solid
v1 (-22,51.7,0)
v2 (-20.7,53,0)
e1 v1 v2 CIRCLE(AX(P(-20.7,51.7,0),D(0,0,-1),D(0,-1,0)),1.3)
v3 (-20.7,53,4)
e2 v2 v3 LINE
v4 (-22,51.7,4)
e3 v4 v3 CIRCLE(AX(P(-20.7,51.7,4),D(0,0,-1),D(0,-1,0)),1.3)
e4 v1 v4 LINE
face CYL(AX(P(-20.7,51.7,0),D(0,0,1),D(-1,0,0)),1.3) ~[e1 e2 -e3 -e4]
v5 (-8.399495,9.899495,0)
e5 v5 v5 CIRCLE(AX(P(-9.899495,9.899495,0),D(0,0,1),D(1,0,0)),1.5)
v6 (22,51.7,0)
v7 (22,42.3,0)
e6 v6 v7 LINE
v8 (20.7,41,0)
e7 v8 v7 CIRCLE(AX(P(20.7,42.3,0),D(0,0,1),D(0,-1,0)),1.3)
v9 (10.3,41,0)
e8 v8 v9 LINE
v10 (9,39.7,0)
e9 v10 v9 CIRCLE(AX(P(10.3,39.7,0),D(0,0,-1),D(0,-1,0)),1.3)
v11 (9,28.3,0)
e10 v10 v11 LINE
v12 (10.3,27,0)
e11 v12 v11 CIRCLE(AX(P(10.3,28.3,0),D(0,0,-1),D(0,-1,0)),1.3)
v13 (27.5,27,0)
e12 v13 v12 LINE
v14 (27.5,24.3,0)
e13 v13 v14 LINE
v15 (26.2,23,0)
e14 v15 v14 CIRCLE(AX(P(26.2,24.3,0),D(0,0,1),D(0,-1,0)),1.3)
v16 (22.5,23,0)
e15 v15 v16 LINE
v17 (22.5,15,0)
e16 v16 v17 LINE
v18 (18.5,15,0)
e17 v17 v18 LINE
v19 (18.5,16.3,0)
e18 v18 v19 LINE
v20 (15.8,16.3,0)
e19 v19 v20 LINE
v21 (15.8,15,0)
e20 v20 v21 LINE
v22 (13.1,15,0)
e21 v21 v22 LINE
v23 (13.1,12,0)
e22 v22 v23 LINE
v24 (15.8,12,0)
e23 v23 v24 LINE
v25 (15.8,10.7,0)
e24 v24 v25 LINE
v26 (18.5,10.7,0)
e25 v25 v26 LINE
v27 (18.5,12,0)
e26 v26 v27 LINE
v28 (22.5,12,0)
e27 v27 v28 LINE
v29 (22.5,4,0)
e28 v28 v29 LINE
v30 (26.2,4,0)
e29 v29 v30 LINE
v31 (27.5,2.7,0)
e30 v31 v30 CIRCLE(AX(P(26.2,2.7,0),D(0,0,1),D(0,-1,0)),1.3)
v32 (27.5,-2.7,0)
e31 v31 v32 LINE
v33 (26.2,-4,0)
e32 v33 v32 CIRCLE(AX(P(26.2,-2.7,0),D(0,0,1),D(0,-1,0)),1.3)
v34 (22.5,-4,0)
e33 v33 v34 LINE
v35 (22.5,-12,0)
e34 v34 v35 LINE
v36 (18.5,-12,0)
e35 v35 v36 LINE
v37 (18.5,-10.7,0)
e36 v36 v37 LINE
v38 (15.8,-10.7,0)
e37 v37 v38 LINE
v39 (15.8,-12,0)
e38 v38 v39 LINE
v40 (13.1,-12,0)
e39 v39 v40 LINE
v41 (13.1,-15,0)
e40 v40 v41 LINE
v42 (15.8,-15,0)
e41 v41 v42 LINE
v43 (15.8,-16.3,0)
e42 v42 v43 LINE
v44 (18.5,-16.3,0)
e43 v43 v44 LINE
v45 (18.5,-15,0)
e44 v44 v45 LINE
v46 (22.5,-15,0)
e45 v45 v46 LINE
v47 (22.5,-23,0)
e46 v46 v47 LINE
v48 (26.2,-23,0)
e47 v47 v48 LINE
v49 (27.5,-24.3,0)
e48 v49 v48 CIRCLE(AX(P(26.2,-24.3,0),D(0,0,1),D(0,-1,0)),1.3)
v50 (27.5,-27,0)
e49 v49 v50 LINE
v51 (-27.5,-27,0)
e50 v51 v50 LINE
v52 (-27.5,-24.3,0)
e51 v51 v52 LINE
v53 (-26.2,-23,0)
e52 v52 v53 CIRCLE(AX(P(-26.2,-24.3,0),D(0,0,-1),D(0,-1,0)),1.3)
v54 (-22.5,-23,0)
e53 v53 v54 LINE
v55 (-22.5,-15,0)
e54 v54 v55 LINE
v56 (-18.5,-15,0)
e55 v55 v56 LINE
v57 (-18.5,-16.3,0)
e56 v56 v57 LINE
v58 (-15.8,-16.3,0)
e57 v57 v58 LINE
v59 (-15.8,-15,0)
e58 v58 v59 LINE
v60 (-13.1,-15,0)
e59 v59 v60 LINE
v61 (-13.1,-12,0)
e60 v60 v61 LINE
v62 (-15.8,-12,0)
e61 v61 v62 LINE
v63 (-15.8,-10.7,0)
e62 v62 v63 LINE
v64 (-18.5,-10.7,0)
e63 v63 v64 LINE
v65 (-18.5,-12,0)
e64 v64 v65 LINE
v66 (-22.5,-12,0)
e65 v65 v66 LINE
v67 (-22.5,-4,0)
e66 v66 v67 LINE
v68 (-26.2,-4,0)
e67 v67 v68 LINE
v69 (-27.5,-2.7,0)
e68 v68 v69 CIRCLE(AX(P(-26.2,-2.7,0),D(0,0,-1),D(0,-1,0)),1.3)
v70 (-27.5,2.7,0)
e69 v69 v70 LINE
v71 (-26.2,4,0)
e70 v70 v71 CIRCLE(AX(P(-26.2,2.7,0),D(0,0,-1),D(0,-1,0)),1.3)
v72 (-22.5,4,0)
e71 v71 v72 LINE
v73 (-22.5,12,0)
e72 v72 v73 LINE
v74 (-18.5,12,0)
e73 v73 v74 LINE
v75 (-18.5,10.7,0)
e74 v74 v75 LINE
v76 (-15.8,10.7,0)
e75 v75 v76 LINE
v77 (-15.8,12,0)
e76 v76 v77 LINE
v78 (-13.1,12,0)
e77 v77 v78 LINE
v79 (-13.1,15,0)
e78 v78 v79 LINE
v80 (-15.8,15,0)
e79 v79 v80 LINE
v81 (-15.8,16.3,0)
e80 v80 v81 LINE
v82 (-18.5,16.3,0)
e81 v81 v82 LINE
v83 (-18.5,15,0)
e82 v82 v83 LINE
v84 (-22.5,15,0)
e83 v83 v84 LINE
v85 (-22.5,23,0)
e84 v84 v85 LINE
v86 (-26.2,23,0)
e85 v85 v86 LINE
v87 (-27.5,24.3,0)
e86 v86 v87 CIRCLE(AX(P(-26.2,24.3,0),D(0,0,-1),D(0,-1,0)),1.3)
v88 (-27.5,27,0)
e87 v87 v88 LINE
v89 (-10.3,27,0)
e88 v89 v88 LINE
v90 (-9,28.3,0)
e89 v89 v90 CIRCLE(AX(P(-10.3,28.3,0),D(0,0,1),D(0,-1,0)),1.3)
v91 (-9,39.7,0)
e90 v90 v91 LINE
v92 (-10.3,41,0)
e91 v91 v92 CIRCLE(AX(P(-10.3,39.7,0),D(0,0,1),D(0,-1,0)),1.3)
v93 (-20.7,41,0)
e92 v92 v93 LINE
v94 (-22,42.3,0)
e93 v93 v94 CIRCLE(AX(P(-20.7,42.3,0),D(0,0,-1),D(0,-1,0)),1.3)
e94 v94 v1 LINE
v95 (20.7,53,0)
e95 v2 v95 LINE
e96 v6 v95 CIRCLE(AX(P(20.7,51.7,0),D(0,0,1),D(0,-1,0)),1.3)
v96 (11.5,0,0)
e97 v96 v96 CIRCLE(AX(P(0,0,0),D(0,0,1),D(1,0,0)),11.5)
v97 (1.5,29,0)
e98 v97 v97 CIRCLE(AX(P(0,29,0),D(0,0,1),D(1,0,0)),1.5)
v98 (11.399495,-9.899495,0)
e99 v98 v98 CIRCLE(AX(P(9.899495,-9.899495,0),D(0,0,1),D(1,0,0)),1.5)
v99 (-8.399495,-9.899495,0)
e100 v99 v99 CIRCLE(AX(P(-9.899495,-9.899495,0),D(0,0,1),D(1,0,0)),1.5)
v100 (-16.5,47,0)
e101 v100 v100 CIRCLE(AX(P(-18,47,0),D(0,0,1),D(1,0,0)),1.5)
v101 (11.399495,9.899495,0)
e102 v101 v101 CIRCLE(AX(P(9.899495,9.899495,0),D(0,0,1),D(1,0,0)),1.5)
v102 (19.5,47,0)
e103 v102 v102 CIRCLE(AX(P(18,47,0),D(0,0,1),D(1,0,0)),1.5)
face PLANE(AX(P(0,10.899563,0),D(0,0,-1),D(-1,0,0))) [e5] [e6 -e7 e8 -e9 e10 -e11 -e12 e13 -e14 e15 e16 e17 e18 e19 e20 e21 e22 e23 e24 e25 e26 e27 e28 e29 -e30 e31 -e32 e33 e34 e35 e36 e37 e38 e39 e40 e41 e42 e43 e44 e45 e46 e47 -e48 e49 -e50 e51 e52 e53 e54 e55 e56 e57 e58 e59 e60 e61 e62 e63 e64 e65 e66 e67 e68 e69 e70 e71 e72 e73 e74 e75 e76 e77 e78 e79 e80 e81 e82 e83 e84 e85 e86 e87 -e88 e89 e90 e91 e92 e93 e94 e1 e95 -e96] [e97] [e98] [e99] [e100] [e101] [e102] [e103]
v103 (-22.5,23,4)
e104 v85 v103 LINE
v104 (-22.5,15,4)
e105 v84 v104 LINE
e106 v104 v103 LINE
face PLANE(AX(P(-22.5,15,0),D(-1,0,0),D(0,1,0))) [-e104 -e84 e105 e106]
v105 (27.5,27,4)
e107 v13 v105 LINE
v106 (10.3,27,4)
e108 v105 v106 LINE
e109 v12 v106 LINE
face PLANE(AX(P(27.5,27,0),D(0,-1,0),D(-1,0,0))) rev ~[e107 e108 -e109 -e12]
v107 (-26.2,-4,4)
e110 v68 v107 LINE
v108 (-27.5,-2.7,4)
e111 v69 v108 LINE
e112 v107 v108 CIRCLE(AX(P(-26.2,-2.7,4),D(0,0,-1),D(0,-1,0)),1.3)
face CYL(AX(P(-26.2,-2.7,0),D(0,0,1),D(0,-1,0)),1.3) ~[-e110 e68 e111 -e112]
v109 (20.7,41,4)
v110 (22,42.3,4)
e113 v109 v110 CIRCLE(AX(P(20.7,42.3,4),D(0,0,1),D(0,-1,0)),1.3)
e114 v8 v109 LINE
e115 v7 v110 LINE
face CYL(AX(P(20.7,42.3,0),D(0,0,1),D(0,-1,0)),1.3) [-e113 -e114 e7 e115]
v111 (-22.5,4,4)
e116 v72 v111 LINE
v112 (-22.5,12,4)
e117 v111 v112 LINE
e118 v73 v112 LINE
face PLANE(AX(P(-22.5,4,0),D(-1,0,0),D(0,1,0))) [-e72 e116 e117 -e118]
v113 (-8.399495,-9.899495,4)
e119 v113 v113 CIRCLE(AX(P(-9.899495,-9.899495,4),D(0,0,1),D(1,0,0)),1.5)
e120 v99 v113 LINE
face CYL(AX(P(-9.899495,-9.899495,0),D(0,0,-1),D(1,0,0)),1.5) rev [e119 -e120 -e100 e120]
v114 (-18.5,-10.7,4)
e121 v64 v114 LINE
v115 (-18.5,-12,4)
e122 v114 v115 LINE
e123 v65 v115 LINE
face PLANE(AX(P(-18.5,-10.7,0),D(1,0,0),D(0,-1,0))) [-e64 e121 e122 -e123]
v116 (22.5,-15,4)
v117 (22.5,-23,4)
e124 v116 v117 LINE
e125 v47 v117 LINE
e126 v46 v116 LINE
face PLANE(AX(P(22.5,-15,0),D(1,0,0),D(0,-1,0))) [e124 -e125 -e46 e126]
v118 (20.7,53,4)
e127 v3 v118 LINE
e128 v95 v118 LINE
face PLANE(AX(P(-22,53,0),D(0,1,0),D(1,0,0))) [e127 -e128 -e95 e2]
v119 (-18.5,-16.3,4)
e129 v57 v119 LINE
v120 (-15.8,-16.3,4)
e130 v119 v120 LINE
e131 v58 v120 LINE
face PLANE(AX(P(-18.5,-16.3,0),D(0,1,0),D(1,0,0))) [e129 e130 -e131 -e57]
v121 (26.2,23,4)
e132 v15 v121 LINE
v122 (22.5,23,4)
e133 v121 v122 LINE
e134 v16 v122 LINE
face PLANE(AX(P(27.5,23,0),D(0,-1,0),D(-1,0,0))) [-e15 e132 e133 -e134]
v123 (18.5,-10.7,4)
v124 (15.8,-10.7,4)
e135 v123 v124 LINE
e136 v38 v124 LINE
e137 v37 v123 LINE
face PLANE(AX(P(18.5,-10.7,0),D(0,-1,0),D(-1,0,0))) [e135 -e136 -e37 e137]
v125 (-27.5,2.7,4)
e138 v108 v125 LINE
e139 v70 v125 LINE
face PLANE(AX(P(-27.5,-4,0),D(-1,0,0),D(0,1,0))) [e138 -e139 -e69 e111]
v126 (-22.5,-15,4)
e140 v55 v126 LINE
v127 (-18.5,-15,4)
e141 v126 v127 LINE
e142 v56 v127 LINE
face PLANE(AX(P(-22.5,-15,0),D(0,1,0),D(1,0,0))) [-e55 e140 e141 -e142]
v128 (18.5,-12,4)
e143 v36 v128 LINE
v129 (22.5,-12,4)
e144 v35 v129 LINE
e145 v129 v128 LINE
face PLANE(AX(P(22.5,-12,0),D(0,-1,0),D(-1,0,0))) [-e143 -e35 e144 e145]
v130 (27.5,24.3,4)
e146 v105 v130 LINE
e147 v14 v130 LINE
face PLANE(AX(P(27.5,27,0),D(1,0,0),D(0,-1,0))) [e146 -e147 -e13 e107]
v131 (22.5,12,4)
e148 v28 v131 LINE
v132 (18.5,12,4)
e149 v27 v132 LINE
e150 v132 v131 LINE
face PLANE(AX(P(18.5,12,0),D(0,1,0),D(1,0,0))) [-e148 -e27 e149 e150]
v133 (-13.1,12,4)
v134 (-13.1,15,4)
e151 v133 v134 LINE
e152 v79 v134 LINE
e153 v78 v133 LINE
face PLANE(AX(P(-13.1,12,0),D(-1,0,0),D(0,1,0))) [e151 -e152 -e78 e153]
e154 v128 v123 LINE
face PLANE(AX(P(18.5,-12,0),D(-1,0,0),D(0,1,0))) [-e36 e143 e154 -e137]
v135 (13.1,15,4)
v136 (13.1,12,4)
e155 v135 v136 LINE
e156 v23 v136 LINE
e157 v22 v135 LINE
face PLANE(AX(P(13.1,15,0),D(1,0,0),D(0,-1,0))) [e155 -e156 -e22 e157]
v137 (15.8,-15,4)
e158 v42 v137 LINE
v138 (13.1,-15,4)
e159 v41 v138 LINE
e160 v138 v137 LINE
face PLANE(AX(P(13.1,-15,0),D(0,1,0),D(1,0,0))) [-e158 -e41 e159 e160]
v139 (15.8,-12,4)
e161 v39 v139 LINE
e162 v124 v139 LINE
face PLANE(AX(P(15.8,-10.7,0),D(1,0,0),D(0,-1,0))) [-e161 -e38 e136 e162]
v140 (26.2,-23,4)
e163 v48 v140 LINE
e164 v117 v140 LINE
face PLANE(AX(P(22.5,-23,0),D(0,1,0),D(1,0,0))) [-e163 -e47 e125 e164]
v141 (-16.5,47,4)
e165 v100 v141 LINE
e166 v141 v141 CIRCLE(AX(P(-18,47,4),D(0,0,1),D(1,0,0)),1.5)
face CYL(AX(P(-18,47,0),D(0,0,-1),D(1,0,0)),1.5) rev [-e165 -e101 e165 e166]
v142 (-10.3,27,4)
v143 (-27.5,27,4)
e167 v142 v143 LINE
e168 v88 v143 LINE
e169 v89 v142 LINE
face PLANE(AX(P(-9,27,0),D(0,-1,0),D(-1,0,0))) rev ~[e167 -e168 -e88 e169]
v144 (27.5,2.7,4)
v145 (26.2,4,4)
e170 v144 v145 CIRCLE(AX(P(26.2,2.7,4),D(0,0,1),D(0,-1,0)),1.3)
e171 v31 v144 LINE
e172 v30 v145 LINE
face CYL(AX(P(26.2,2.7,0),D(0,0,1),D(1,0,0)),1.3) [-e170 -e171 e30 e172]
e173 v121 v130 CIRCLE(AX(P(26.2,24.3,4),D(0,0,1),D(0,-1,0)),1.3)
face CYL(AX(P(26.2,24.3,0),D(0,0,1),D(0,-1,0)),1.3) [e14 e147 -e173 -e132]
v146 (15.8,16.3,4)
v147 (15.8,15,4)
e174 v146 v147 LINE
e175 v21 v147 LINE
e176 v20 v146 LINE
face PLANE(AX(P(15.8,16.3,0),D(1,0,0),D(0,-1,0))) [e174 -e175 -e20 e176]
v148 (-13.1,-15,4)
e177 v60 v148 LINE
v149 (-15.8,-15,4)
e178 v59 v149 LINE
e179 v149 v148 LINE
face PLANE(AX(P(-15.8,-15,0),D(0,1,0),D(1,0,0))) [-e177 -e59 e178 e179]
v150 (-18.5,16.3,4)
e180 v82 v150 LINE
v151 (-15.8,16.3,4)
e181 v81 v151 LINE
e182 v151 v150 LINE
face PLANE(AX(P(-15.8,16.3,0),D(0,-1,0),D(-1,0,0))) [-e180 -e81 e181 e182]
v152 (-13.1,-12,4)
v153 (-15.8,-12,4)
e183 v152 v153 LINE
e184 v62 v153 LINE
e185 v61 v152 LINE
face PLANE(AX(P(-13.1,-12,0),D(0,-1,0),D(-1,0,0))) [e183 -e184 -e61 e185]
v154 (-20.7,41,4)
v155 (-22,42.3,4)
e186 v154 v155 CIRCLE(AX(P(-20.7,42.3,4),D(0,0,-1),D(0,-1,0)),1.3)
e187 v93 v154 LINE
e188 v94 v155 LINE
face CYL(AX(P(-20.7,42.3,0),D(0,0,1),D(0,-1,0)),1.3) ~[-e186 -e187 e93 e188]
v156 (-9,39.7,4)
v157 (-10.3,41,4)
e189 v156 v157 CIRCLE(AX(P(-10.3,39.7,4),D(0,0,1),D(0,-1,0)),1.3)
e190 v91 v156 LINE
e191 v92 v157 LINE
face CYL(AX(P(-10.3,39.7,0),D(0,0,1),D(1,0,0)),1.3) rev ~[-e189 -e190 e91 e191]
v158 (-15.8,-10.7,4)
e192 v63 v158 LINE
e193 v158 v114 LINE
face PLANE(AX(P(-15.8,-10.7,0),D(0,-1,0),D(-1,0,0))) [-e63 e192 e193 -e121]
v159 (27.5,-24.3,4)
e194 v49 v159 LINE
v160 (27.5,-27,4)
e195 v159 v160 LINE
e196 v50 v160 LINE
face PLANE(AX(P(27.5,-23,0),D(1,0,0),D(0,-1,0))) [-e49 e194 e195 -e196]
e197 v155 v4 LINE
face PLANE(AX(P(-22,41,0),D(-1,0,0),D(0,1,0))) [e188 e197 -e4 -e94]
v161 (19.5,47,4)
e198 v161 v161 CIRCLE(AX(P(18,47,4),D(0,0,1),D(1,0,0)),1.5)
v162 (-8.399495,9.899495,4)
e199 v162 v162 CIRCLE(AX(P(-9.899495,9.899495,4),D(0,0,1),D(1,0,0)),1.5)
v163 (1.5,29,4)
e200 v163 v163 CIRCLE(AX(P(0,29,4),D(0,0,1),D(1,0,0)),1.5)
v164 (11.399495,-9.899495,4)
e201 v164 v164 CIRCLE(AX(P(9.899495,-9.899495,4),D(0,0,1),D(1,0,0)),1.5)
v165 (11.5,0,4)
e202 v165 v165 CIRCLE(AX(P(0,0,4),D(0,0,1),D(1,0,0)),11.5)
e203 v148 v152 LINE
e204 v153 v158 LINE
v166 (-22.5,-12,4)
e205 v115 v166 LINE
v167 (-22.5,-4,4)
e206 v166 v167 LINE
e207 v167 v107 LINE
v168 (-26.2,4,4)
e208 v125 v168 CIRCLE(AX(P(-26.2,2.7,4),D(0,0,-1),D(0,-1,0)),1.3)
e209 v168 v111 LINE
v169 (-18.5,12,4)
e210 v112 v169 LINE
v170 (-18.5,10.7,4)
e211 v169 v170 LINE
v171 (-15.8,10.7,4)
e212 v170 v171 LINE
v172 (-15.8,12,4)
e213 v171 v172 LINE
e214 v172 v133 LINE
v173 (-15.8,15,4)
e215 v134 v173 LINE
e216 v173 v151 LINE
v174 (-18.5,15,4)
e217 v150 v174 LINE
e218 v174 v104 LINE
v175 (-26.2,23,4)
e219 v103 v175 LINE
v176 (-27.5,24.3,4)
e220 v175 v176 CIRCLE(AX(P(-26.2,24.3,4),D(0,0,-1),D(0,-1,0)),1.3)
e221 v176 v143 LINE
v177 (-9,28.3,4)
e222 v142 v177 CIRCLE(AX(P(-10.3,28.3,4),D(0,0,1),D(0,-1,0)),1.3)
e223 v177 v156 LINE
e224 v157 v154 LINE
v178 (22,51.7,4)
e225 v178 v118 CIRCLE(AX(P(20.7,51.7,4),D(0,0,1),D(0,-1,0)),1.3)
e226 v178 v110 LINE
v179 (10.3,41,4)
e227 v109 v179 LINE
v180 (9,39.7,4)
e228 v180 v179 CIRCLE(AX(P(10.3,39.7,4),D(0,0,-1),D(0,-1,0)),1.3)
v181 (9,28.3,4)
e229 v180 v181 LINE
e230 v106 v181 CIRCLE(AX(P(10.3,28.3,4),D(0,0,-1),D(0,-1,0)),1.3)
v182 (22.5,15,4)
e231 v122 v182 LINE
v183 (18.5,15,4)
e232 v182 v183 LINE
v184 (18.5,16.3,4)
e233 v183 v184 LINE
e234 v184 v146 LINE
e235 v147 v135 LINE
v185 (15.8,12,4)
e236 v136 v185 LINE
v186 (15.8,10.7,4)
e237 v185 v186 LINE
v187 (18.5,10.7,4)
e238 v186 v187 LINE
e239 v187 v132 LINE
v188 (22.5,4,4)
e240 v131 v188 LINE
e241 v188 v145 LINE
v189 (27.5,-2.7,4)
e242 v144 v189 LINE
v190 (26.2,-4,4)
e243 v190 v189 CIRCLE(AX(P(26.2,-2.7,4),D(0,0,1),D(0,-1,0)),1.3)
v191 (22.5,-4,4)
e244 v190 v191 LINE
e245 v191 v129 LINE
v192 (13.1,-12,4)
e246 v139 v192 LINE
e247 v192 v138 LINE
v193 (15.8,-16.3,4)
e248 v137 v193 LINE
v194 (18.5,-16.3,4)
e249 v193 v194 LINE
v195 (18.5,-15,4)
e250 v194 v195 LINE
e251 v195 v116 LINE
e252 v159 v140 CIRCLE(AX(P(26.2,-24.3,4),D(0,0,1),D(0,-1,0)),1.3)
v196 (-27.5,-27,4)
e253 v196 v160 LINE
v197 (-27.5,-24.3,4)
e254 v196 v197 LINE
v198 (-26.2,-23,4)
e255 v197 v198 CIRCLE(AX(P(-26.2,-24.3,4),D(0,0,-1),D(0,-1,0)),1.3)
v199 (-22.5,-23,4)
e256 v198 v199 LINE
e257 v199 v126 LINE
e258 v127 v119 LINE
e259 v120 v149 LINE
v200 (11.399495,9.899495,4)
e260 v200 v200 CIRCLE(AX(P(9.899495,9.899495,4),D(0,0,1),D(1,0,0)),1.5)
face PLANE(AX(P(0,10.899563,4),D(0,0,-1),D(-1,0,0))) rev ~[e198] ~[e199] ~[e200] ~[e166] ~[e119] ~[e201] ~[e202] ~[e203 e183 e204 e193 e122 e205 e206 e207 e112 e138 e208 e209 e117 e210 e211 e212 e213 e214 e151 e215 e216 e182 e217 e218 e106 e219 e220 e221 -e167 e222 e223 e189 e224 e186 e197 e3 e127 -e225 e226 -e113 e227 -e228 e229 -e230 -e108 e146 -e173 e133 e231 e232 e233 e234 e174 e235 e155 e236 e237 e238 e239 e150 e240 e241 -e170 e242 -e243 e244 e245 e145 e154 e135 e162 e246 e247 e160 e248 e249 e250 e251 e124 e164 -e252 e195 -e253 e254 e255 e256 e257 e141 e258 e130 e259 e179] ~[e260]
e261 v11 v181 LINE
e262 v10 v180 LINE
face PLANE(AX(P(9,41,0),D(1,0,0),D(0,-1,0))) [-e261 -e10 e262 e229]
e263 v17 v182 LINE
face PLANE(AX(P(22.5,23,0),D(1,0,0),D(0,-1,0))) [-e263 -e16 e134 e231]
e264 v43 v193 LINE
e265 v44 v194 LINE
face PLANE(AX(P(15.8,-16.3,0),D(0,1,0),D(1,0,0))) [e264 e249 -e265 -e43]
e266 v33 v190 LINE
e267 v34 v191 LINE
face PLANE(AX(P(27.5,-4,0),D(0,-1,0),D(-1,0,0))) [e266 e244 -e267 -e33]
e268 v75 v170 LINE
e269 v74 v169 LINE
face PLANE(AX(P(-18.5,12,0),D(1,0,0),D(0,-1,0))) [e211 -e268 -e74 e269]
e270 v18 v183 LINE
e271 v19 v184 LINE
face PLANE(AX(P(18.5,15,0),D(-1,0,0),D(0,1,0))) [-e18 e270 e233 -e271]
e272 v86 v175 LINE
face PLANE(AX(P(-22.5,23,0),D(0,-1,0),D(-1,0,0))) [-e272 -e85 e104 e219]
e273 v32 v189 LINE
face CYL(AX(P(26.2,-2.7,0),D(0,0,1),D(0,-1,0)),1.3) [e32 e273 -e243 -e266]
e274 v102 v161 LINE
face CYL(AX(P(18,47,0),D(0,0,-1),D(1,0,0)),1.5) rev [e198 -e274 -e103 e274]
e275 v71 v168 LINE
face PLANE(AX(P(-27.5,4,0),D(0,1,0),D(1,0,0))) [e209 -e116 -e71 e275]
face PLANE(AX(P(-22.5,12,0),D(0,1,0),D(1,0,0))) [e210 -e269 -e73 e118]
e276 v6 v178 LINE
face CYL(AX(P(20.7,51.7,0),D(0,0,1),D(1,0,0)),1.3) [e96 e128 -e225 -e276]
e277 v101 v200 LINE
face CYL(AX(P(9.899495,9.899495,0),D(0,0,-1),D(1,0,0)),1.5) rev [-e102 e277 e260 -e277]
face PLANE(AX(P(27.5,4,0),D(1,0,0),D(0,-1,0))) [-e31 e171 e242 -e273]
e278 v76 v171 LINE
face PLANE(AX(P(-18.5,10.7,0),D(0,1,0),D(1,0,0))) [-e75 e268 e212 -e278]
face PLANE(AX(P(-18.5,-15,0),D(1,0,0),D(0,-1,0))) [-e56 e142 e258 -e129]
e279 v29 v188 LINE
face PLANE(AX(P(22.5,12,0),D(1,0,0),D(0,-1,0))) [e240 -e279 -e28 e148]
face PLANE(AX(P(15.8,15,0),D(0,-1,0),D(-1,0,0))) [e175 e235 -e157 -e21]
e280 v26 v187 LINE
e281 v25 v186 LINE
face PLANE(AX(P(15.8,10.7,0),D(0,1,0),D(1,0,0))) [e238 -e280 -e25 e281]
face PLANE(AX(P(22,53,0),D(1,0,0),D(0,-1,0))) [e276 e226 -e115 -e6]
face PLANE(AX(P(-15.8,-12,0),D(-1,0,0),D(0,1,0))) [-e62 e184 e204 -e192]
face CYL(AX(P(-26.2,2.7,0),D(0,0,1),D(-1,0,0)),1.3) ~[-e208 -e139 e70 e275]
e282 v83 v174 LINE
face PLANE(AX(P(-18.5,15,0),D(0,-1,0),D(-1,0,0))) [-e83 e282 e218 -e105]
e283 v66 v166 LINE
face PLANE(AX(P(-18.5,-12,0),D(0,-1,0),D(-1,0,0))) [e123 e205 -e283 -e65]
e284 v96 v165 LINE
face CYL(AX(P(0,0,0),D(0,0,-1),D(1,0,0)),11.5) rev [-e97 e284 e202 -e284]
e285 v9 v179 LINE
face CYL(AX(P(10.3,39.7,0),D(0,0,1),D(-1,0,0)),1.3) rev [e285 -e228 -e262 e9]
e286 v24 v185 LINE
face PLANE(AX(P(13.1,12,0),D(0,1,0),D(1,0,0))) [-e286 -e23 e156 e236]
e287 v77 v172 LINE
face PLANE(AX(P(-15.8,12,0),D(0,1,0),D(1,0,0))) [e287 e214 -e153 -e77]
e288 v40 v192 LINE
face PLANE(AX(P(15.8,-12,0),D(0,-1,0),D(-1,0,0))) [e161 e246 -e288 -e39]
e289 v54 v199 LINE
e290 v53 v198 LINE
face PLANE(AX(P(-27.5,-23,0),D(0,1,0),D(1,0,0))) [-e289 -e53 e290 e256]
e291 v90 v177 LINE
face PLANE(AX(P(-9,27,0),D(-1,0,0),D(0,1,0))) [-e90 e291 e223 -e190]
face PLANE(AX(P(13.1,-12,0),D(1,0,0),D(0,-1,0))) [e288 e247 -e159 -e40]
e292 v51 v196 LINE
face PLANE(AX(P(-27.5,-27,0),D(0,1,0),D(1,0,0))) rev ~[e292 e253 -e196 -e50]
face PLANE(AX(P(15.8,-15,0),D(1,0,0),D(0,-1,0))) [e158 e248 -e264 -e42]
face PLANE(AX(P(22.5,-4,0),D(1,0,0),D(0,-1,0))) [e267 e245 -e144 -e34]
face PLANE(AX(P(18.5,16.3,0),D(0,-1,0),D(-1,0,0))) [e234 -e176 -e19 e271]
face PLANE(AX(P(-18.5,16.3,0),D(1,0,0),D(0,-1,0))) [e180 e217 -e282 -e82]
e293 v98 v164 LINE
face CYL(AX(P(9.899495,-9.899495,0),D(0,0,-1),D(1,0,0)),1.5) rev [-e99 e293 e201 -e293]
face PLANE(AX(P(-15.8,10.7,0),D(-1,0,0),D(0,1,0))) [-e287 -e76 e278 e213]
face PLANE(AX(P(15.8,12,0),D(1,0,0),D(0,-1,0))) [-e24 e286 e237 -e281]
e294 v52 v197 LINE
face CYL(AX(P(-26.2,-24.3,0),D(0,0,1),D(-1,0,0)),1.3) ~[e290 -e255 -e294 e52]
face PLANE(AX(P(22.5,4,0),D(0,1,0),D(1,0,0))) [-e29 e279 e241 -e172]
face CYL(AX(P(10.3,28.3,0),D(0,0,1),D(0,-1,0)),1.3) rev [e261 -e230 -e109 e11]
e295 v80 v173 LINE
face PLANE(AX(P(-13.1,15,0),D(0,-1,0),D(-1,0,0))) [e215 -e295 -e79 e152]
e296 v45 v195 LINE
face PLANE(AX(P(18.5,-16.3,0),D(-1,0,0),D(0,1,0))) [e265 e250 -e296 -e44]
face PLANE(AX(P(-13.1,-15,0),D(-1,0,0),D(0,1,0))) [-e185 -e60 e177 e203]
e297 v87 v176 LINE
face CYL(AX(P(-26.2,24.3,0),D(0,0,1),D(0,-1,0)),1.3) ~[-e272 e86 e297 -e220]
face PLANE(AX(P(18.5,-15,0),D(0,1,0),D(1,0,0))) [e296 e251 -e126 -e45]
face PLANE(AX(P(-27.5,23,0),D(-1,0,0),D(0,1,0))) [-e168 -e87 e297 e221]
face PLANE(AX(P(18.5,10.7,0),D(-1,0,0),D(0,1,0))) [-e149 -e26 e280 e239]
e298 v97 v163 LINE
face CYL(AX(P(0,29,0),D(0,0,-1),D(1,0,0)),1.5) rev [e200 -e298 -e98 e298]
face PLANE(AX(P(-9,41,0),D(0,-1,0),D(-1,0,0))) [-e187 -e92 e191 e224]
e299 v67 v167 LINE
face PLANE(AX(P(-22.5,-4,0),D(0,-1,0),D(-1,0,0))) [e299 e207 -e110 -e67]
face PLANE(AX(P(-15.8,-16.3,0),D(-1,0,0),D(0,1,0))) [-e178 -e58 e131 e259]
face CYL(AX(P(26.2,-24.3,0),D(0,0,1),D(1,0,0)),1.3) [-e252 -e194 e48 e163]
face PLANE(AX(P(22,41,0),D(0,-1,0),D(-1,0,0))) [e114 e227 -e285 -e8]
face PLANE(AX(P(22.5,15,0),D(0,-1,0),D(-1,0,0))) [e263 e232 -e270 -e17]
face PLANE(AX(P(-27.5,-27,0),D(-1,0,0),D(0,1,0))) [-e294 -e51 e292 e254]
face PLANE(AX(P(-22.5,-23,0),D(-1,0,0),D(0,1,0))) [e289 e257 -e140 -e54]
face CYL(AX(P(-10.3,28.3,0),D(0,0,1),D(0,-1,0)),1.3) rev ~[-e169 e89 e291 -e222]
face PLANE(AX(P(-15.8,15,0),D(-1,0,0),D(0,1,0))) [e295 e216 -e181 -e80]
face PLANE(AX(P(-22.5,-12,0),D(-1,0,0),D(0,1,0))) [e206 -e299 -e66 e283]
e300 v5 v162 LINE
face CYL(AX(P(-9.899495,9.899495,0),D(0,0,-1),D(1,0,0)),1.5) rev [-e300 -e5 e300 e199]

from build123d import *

# Parameters (mm, degrees)
SKETCH_1_R      = 1.5
SKETCH_1_R_2    = 11.5
EXTRUDE_1_DEPTH = 4
FILLET_1_R      = 1.3


with BuildPart() as part:
    # 草图1 → 凸台-拉伸1 (new body)
    with BuildSketch(Plane.XY):
        Polygon((22.5, -27), (-22.5, -27), (-27.5, -27), (-27.5, -23), (-22.5, -23), (-22.5, -15), (-18.5, -15), (-18.5, -16.3), (-15.8, -16.3), (-15.8, -15), (-13.1, -15), (-13.1, -12), (-15.8, -12), (-15.8, -10.7), (-18.5, -10.7), (-18.5, -12), (-22.5, -12), (-22.5, -4), (-27.5, -4), (-27.5, 4), (-22.5, 4), (-22.5, 12), (-18.5, 12), (-18.5, 10.7), (-15.8, 10.7), (-15.8, 12), (-13.1, 12), (-13.1, 15), (-15.8, 15), (-15.8, 16.3), (-18.5, 16.3), (-18.5, 15), (-22.5, 15), (-22.5, 23), (-27.5, 23), (-27.5, 27), (-22.5, 27), (-9, 27), (-9, 41), (-22, 41), (-22, 53), (22, 53), (22, 41), (9, 41), (9, 27), (22.5, 27), (27.5, 27), (27.5, 23), (22.5, 23), (22.5, 15), (18.5, 15), (18.5, 16.3), (15.8, 16.3), (15.8, 15), (13.1, 15), (13.1, 12), (15.8, 12), (15.8, 10.7), (18.5, 10.7), (18.5, 12), (22.5, 12), (22.5, 4), (27.5, 4), (27.5, -4), (22.5, -4), (22.5, -12), (18.5, -12), (18.5, -10.7), (15.8, -10.7), (15.8, -12), (13.1, -12), (13.1, -15), (15.8, -15), (15.8, -16.3), (18.5, -16.3), (18.5, -15), (22.5, -15), (22.5, -23), (27.5, -23), (27.5, -27), align=None)
        with Locations((9.899494937, 9.899494937)):
            Circle(SKETCH_1_R, mode=Mode.SUBTRACT)
        Circle(SKETCH_1_R_2, mode=Mode.SUBTRACT)
        with Locations((9.899494937, -9.899494937)):
            Circle(SKETCH_1_R, mode=Mode.SUBTRACT)
        with Locations((-9.899494937, -9.899494937)):
            Circle(SKETCH_1_R, mode=Mode.SUBTRACT)
        with Locations((-9.899494937, 9.899494937)):
            Circle(SKETCH_1_R, mode=Mode.SUBTRACT)
        with Locations((-18, 47)):
            Circle(SKETCH_1_R, mode=Mode.SUBTRACT)
        with Locations((18, 47)):
            Circle(SKETCH_1_R, mode=Mode.SUBTRACT)
        with Locations((0, 29)):
            Circle(SKETCH_1_R, mode=Mode.SUBTRACT)
    extrude(amount=EXTRUDE_1_DEPTH)

    # 圆角1
    fillet_1_edges = [part.edges().sort_by_distance(p)[0] for p in [
        (-9, 27, 2),
        (-9, 41, 2),
        (-22, 41, 2),
        (-22, 53, 2),
        (22, 53, 2),
        (22, 41, 2),
        (9, 41, 2),
        (9, 27, 2),
        (27.5, 23, 2),
        (27.5, 4, 2),
        (27.5, -4, 2),
        (27.5, -23, 2),
        (-27.5, -23, 2),
        (-27.5, -4, 2),
        (-27.5, 4, 2),
        (-27.5, 23, 2),
    ]]
    fillet(fillet_1_edges, radius=FILLET_1_R)


solid = part.part
